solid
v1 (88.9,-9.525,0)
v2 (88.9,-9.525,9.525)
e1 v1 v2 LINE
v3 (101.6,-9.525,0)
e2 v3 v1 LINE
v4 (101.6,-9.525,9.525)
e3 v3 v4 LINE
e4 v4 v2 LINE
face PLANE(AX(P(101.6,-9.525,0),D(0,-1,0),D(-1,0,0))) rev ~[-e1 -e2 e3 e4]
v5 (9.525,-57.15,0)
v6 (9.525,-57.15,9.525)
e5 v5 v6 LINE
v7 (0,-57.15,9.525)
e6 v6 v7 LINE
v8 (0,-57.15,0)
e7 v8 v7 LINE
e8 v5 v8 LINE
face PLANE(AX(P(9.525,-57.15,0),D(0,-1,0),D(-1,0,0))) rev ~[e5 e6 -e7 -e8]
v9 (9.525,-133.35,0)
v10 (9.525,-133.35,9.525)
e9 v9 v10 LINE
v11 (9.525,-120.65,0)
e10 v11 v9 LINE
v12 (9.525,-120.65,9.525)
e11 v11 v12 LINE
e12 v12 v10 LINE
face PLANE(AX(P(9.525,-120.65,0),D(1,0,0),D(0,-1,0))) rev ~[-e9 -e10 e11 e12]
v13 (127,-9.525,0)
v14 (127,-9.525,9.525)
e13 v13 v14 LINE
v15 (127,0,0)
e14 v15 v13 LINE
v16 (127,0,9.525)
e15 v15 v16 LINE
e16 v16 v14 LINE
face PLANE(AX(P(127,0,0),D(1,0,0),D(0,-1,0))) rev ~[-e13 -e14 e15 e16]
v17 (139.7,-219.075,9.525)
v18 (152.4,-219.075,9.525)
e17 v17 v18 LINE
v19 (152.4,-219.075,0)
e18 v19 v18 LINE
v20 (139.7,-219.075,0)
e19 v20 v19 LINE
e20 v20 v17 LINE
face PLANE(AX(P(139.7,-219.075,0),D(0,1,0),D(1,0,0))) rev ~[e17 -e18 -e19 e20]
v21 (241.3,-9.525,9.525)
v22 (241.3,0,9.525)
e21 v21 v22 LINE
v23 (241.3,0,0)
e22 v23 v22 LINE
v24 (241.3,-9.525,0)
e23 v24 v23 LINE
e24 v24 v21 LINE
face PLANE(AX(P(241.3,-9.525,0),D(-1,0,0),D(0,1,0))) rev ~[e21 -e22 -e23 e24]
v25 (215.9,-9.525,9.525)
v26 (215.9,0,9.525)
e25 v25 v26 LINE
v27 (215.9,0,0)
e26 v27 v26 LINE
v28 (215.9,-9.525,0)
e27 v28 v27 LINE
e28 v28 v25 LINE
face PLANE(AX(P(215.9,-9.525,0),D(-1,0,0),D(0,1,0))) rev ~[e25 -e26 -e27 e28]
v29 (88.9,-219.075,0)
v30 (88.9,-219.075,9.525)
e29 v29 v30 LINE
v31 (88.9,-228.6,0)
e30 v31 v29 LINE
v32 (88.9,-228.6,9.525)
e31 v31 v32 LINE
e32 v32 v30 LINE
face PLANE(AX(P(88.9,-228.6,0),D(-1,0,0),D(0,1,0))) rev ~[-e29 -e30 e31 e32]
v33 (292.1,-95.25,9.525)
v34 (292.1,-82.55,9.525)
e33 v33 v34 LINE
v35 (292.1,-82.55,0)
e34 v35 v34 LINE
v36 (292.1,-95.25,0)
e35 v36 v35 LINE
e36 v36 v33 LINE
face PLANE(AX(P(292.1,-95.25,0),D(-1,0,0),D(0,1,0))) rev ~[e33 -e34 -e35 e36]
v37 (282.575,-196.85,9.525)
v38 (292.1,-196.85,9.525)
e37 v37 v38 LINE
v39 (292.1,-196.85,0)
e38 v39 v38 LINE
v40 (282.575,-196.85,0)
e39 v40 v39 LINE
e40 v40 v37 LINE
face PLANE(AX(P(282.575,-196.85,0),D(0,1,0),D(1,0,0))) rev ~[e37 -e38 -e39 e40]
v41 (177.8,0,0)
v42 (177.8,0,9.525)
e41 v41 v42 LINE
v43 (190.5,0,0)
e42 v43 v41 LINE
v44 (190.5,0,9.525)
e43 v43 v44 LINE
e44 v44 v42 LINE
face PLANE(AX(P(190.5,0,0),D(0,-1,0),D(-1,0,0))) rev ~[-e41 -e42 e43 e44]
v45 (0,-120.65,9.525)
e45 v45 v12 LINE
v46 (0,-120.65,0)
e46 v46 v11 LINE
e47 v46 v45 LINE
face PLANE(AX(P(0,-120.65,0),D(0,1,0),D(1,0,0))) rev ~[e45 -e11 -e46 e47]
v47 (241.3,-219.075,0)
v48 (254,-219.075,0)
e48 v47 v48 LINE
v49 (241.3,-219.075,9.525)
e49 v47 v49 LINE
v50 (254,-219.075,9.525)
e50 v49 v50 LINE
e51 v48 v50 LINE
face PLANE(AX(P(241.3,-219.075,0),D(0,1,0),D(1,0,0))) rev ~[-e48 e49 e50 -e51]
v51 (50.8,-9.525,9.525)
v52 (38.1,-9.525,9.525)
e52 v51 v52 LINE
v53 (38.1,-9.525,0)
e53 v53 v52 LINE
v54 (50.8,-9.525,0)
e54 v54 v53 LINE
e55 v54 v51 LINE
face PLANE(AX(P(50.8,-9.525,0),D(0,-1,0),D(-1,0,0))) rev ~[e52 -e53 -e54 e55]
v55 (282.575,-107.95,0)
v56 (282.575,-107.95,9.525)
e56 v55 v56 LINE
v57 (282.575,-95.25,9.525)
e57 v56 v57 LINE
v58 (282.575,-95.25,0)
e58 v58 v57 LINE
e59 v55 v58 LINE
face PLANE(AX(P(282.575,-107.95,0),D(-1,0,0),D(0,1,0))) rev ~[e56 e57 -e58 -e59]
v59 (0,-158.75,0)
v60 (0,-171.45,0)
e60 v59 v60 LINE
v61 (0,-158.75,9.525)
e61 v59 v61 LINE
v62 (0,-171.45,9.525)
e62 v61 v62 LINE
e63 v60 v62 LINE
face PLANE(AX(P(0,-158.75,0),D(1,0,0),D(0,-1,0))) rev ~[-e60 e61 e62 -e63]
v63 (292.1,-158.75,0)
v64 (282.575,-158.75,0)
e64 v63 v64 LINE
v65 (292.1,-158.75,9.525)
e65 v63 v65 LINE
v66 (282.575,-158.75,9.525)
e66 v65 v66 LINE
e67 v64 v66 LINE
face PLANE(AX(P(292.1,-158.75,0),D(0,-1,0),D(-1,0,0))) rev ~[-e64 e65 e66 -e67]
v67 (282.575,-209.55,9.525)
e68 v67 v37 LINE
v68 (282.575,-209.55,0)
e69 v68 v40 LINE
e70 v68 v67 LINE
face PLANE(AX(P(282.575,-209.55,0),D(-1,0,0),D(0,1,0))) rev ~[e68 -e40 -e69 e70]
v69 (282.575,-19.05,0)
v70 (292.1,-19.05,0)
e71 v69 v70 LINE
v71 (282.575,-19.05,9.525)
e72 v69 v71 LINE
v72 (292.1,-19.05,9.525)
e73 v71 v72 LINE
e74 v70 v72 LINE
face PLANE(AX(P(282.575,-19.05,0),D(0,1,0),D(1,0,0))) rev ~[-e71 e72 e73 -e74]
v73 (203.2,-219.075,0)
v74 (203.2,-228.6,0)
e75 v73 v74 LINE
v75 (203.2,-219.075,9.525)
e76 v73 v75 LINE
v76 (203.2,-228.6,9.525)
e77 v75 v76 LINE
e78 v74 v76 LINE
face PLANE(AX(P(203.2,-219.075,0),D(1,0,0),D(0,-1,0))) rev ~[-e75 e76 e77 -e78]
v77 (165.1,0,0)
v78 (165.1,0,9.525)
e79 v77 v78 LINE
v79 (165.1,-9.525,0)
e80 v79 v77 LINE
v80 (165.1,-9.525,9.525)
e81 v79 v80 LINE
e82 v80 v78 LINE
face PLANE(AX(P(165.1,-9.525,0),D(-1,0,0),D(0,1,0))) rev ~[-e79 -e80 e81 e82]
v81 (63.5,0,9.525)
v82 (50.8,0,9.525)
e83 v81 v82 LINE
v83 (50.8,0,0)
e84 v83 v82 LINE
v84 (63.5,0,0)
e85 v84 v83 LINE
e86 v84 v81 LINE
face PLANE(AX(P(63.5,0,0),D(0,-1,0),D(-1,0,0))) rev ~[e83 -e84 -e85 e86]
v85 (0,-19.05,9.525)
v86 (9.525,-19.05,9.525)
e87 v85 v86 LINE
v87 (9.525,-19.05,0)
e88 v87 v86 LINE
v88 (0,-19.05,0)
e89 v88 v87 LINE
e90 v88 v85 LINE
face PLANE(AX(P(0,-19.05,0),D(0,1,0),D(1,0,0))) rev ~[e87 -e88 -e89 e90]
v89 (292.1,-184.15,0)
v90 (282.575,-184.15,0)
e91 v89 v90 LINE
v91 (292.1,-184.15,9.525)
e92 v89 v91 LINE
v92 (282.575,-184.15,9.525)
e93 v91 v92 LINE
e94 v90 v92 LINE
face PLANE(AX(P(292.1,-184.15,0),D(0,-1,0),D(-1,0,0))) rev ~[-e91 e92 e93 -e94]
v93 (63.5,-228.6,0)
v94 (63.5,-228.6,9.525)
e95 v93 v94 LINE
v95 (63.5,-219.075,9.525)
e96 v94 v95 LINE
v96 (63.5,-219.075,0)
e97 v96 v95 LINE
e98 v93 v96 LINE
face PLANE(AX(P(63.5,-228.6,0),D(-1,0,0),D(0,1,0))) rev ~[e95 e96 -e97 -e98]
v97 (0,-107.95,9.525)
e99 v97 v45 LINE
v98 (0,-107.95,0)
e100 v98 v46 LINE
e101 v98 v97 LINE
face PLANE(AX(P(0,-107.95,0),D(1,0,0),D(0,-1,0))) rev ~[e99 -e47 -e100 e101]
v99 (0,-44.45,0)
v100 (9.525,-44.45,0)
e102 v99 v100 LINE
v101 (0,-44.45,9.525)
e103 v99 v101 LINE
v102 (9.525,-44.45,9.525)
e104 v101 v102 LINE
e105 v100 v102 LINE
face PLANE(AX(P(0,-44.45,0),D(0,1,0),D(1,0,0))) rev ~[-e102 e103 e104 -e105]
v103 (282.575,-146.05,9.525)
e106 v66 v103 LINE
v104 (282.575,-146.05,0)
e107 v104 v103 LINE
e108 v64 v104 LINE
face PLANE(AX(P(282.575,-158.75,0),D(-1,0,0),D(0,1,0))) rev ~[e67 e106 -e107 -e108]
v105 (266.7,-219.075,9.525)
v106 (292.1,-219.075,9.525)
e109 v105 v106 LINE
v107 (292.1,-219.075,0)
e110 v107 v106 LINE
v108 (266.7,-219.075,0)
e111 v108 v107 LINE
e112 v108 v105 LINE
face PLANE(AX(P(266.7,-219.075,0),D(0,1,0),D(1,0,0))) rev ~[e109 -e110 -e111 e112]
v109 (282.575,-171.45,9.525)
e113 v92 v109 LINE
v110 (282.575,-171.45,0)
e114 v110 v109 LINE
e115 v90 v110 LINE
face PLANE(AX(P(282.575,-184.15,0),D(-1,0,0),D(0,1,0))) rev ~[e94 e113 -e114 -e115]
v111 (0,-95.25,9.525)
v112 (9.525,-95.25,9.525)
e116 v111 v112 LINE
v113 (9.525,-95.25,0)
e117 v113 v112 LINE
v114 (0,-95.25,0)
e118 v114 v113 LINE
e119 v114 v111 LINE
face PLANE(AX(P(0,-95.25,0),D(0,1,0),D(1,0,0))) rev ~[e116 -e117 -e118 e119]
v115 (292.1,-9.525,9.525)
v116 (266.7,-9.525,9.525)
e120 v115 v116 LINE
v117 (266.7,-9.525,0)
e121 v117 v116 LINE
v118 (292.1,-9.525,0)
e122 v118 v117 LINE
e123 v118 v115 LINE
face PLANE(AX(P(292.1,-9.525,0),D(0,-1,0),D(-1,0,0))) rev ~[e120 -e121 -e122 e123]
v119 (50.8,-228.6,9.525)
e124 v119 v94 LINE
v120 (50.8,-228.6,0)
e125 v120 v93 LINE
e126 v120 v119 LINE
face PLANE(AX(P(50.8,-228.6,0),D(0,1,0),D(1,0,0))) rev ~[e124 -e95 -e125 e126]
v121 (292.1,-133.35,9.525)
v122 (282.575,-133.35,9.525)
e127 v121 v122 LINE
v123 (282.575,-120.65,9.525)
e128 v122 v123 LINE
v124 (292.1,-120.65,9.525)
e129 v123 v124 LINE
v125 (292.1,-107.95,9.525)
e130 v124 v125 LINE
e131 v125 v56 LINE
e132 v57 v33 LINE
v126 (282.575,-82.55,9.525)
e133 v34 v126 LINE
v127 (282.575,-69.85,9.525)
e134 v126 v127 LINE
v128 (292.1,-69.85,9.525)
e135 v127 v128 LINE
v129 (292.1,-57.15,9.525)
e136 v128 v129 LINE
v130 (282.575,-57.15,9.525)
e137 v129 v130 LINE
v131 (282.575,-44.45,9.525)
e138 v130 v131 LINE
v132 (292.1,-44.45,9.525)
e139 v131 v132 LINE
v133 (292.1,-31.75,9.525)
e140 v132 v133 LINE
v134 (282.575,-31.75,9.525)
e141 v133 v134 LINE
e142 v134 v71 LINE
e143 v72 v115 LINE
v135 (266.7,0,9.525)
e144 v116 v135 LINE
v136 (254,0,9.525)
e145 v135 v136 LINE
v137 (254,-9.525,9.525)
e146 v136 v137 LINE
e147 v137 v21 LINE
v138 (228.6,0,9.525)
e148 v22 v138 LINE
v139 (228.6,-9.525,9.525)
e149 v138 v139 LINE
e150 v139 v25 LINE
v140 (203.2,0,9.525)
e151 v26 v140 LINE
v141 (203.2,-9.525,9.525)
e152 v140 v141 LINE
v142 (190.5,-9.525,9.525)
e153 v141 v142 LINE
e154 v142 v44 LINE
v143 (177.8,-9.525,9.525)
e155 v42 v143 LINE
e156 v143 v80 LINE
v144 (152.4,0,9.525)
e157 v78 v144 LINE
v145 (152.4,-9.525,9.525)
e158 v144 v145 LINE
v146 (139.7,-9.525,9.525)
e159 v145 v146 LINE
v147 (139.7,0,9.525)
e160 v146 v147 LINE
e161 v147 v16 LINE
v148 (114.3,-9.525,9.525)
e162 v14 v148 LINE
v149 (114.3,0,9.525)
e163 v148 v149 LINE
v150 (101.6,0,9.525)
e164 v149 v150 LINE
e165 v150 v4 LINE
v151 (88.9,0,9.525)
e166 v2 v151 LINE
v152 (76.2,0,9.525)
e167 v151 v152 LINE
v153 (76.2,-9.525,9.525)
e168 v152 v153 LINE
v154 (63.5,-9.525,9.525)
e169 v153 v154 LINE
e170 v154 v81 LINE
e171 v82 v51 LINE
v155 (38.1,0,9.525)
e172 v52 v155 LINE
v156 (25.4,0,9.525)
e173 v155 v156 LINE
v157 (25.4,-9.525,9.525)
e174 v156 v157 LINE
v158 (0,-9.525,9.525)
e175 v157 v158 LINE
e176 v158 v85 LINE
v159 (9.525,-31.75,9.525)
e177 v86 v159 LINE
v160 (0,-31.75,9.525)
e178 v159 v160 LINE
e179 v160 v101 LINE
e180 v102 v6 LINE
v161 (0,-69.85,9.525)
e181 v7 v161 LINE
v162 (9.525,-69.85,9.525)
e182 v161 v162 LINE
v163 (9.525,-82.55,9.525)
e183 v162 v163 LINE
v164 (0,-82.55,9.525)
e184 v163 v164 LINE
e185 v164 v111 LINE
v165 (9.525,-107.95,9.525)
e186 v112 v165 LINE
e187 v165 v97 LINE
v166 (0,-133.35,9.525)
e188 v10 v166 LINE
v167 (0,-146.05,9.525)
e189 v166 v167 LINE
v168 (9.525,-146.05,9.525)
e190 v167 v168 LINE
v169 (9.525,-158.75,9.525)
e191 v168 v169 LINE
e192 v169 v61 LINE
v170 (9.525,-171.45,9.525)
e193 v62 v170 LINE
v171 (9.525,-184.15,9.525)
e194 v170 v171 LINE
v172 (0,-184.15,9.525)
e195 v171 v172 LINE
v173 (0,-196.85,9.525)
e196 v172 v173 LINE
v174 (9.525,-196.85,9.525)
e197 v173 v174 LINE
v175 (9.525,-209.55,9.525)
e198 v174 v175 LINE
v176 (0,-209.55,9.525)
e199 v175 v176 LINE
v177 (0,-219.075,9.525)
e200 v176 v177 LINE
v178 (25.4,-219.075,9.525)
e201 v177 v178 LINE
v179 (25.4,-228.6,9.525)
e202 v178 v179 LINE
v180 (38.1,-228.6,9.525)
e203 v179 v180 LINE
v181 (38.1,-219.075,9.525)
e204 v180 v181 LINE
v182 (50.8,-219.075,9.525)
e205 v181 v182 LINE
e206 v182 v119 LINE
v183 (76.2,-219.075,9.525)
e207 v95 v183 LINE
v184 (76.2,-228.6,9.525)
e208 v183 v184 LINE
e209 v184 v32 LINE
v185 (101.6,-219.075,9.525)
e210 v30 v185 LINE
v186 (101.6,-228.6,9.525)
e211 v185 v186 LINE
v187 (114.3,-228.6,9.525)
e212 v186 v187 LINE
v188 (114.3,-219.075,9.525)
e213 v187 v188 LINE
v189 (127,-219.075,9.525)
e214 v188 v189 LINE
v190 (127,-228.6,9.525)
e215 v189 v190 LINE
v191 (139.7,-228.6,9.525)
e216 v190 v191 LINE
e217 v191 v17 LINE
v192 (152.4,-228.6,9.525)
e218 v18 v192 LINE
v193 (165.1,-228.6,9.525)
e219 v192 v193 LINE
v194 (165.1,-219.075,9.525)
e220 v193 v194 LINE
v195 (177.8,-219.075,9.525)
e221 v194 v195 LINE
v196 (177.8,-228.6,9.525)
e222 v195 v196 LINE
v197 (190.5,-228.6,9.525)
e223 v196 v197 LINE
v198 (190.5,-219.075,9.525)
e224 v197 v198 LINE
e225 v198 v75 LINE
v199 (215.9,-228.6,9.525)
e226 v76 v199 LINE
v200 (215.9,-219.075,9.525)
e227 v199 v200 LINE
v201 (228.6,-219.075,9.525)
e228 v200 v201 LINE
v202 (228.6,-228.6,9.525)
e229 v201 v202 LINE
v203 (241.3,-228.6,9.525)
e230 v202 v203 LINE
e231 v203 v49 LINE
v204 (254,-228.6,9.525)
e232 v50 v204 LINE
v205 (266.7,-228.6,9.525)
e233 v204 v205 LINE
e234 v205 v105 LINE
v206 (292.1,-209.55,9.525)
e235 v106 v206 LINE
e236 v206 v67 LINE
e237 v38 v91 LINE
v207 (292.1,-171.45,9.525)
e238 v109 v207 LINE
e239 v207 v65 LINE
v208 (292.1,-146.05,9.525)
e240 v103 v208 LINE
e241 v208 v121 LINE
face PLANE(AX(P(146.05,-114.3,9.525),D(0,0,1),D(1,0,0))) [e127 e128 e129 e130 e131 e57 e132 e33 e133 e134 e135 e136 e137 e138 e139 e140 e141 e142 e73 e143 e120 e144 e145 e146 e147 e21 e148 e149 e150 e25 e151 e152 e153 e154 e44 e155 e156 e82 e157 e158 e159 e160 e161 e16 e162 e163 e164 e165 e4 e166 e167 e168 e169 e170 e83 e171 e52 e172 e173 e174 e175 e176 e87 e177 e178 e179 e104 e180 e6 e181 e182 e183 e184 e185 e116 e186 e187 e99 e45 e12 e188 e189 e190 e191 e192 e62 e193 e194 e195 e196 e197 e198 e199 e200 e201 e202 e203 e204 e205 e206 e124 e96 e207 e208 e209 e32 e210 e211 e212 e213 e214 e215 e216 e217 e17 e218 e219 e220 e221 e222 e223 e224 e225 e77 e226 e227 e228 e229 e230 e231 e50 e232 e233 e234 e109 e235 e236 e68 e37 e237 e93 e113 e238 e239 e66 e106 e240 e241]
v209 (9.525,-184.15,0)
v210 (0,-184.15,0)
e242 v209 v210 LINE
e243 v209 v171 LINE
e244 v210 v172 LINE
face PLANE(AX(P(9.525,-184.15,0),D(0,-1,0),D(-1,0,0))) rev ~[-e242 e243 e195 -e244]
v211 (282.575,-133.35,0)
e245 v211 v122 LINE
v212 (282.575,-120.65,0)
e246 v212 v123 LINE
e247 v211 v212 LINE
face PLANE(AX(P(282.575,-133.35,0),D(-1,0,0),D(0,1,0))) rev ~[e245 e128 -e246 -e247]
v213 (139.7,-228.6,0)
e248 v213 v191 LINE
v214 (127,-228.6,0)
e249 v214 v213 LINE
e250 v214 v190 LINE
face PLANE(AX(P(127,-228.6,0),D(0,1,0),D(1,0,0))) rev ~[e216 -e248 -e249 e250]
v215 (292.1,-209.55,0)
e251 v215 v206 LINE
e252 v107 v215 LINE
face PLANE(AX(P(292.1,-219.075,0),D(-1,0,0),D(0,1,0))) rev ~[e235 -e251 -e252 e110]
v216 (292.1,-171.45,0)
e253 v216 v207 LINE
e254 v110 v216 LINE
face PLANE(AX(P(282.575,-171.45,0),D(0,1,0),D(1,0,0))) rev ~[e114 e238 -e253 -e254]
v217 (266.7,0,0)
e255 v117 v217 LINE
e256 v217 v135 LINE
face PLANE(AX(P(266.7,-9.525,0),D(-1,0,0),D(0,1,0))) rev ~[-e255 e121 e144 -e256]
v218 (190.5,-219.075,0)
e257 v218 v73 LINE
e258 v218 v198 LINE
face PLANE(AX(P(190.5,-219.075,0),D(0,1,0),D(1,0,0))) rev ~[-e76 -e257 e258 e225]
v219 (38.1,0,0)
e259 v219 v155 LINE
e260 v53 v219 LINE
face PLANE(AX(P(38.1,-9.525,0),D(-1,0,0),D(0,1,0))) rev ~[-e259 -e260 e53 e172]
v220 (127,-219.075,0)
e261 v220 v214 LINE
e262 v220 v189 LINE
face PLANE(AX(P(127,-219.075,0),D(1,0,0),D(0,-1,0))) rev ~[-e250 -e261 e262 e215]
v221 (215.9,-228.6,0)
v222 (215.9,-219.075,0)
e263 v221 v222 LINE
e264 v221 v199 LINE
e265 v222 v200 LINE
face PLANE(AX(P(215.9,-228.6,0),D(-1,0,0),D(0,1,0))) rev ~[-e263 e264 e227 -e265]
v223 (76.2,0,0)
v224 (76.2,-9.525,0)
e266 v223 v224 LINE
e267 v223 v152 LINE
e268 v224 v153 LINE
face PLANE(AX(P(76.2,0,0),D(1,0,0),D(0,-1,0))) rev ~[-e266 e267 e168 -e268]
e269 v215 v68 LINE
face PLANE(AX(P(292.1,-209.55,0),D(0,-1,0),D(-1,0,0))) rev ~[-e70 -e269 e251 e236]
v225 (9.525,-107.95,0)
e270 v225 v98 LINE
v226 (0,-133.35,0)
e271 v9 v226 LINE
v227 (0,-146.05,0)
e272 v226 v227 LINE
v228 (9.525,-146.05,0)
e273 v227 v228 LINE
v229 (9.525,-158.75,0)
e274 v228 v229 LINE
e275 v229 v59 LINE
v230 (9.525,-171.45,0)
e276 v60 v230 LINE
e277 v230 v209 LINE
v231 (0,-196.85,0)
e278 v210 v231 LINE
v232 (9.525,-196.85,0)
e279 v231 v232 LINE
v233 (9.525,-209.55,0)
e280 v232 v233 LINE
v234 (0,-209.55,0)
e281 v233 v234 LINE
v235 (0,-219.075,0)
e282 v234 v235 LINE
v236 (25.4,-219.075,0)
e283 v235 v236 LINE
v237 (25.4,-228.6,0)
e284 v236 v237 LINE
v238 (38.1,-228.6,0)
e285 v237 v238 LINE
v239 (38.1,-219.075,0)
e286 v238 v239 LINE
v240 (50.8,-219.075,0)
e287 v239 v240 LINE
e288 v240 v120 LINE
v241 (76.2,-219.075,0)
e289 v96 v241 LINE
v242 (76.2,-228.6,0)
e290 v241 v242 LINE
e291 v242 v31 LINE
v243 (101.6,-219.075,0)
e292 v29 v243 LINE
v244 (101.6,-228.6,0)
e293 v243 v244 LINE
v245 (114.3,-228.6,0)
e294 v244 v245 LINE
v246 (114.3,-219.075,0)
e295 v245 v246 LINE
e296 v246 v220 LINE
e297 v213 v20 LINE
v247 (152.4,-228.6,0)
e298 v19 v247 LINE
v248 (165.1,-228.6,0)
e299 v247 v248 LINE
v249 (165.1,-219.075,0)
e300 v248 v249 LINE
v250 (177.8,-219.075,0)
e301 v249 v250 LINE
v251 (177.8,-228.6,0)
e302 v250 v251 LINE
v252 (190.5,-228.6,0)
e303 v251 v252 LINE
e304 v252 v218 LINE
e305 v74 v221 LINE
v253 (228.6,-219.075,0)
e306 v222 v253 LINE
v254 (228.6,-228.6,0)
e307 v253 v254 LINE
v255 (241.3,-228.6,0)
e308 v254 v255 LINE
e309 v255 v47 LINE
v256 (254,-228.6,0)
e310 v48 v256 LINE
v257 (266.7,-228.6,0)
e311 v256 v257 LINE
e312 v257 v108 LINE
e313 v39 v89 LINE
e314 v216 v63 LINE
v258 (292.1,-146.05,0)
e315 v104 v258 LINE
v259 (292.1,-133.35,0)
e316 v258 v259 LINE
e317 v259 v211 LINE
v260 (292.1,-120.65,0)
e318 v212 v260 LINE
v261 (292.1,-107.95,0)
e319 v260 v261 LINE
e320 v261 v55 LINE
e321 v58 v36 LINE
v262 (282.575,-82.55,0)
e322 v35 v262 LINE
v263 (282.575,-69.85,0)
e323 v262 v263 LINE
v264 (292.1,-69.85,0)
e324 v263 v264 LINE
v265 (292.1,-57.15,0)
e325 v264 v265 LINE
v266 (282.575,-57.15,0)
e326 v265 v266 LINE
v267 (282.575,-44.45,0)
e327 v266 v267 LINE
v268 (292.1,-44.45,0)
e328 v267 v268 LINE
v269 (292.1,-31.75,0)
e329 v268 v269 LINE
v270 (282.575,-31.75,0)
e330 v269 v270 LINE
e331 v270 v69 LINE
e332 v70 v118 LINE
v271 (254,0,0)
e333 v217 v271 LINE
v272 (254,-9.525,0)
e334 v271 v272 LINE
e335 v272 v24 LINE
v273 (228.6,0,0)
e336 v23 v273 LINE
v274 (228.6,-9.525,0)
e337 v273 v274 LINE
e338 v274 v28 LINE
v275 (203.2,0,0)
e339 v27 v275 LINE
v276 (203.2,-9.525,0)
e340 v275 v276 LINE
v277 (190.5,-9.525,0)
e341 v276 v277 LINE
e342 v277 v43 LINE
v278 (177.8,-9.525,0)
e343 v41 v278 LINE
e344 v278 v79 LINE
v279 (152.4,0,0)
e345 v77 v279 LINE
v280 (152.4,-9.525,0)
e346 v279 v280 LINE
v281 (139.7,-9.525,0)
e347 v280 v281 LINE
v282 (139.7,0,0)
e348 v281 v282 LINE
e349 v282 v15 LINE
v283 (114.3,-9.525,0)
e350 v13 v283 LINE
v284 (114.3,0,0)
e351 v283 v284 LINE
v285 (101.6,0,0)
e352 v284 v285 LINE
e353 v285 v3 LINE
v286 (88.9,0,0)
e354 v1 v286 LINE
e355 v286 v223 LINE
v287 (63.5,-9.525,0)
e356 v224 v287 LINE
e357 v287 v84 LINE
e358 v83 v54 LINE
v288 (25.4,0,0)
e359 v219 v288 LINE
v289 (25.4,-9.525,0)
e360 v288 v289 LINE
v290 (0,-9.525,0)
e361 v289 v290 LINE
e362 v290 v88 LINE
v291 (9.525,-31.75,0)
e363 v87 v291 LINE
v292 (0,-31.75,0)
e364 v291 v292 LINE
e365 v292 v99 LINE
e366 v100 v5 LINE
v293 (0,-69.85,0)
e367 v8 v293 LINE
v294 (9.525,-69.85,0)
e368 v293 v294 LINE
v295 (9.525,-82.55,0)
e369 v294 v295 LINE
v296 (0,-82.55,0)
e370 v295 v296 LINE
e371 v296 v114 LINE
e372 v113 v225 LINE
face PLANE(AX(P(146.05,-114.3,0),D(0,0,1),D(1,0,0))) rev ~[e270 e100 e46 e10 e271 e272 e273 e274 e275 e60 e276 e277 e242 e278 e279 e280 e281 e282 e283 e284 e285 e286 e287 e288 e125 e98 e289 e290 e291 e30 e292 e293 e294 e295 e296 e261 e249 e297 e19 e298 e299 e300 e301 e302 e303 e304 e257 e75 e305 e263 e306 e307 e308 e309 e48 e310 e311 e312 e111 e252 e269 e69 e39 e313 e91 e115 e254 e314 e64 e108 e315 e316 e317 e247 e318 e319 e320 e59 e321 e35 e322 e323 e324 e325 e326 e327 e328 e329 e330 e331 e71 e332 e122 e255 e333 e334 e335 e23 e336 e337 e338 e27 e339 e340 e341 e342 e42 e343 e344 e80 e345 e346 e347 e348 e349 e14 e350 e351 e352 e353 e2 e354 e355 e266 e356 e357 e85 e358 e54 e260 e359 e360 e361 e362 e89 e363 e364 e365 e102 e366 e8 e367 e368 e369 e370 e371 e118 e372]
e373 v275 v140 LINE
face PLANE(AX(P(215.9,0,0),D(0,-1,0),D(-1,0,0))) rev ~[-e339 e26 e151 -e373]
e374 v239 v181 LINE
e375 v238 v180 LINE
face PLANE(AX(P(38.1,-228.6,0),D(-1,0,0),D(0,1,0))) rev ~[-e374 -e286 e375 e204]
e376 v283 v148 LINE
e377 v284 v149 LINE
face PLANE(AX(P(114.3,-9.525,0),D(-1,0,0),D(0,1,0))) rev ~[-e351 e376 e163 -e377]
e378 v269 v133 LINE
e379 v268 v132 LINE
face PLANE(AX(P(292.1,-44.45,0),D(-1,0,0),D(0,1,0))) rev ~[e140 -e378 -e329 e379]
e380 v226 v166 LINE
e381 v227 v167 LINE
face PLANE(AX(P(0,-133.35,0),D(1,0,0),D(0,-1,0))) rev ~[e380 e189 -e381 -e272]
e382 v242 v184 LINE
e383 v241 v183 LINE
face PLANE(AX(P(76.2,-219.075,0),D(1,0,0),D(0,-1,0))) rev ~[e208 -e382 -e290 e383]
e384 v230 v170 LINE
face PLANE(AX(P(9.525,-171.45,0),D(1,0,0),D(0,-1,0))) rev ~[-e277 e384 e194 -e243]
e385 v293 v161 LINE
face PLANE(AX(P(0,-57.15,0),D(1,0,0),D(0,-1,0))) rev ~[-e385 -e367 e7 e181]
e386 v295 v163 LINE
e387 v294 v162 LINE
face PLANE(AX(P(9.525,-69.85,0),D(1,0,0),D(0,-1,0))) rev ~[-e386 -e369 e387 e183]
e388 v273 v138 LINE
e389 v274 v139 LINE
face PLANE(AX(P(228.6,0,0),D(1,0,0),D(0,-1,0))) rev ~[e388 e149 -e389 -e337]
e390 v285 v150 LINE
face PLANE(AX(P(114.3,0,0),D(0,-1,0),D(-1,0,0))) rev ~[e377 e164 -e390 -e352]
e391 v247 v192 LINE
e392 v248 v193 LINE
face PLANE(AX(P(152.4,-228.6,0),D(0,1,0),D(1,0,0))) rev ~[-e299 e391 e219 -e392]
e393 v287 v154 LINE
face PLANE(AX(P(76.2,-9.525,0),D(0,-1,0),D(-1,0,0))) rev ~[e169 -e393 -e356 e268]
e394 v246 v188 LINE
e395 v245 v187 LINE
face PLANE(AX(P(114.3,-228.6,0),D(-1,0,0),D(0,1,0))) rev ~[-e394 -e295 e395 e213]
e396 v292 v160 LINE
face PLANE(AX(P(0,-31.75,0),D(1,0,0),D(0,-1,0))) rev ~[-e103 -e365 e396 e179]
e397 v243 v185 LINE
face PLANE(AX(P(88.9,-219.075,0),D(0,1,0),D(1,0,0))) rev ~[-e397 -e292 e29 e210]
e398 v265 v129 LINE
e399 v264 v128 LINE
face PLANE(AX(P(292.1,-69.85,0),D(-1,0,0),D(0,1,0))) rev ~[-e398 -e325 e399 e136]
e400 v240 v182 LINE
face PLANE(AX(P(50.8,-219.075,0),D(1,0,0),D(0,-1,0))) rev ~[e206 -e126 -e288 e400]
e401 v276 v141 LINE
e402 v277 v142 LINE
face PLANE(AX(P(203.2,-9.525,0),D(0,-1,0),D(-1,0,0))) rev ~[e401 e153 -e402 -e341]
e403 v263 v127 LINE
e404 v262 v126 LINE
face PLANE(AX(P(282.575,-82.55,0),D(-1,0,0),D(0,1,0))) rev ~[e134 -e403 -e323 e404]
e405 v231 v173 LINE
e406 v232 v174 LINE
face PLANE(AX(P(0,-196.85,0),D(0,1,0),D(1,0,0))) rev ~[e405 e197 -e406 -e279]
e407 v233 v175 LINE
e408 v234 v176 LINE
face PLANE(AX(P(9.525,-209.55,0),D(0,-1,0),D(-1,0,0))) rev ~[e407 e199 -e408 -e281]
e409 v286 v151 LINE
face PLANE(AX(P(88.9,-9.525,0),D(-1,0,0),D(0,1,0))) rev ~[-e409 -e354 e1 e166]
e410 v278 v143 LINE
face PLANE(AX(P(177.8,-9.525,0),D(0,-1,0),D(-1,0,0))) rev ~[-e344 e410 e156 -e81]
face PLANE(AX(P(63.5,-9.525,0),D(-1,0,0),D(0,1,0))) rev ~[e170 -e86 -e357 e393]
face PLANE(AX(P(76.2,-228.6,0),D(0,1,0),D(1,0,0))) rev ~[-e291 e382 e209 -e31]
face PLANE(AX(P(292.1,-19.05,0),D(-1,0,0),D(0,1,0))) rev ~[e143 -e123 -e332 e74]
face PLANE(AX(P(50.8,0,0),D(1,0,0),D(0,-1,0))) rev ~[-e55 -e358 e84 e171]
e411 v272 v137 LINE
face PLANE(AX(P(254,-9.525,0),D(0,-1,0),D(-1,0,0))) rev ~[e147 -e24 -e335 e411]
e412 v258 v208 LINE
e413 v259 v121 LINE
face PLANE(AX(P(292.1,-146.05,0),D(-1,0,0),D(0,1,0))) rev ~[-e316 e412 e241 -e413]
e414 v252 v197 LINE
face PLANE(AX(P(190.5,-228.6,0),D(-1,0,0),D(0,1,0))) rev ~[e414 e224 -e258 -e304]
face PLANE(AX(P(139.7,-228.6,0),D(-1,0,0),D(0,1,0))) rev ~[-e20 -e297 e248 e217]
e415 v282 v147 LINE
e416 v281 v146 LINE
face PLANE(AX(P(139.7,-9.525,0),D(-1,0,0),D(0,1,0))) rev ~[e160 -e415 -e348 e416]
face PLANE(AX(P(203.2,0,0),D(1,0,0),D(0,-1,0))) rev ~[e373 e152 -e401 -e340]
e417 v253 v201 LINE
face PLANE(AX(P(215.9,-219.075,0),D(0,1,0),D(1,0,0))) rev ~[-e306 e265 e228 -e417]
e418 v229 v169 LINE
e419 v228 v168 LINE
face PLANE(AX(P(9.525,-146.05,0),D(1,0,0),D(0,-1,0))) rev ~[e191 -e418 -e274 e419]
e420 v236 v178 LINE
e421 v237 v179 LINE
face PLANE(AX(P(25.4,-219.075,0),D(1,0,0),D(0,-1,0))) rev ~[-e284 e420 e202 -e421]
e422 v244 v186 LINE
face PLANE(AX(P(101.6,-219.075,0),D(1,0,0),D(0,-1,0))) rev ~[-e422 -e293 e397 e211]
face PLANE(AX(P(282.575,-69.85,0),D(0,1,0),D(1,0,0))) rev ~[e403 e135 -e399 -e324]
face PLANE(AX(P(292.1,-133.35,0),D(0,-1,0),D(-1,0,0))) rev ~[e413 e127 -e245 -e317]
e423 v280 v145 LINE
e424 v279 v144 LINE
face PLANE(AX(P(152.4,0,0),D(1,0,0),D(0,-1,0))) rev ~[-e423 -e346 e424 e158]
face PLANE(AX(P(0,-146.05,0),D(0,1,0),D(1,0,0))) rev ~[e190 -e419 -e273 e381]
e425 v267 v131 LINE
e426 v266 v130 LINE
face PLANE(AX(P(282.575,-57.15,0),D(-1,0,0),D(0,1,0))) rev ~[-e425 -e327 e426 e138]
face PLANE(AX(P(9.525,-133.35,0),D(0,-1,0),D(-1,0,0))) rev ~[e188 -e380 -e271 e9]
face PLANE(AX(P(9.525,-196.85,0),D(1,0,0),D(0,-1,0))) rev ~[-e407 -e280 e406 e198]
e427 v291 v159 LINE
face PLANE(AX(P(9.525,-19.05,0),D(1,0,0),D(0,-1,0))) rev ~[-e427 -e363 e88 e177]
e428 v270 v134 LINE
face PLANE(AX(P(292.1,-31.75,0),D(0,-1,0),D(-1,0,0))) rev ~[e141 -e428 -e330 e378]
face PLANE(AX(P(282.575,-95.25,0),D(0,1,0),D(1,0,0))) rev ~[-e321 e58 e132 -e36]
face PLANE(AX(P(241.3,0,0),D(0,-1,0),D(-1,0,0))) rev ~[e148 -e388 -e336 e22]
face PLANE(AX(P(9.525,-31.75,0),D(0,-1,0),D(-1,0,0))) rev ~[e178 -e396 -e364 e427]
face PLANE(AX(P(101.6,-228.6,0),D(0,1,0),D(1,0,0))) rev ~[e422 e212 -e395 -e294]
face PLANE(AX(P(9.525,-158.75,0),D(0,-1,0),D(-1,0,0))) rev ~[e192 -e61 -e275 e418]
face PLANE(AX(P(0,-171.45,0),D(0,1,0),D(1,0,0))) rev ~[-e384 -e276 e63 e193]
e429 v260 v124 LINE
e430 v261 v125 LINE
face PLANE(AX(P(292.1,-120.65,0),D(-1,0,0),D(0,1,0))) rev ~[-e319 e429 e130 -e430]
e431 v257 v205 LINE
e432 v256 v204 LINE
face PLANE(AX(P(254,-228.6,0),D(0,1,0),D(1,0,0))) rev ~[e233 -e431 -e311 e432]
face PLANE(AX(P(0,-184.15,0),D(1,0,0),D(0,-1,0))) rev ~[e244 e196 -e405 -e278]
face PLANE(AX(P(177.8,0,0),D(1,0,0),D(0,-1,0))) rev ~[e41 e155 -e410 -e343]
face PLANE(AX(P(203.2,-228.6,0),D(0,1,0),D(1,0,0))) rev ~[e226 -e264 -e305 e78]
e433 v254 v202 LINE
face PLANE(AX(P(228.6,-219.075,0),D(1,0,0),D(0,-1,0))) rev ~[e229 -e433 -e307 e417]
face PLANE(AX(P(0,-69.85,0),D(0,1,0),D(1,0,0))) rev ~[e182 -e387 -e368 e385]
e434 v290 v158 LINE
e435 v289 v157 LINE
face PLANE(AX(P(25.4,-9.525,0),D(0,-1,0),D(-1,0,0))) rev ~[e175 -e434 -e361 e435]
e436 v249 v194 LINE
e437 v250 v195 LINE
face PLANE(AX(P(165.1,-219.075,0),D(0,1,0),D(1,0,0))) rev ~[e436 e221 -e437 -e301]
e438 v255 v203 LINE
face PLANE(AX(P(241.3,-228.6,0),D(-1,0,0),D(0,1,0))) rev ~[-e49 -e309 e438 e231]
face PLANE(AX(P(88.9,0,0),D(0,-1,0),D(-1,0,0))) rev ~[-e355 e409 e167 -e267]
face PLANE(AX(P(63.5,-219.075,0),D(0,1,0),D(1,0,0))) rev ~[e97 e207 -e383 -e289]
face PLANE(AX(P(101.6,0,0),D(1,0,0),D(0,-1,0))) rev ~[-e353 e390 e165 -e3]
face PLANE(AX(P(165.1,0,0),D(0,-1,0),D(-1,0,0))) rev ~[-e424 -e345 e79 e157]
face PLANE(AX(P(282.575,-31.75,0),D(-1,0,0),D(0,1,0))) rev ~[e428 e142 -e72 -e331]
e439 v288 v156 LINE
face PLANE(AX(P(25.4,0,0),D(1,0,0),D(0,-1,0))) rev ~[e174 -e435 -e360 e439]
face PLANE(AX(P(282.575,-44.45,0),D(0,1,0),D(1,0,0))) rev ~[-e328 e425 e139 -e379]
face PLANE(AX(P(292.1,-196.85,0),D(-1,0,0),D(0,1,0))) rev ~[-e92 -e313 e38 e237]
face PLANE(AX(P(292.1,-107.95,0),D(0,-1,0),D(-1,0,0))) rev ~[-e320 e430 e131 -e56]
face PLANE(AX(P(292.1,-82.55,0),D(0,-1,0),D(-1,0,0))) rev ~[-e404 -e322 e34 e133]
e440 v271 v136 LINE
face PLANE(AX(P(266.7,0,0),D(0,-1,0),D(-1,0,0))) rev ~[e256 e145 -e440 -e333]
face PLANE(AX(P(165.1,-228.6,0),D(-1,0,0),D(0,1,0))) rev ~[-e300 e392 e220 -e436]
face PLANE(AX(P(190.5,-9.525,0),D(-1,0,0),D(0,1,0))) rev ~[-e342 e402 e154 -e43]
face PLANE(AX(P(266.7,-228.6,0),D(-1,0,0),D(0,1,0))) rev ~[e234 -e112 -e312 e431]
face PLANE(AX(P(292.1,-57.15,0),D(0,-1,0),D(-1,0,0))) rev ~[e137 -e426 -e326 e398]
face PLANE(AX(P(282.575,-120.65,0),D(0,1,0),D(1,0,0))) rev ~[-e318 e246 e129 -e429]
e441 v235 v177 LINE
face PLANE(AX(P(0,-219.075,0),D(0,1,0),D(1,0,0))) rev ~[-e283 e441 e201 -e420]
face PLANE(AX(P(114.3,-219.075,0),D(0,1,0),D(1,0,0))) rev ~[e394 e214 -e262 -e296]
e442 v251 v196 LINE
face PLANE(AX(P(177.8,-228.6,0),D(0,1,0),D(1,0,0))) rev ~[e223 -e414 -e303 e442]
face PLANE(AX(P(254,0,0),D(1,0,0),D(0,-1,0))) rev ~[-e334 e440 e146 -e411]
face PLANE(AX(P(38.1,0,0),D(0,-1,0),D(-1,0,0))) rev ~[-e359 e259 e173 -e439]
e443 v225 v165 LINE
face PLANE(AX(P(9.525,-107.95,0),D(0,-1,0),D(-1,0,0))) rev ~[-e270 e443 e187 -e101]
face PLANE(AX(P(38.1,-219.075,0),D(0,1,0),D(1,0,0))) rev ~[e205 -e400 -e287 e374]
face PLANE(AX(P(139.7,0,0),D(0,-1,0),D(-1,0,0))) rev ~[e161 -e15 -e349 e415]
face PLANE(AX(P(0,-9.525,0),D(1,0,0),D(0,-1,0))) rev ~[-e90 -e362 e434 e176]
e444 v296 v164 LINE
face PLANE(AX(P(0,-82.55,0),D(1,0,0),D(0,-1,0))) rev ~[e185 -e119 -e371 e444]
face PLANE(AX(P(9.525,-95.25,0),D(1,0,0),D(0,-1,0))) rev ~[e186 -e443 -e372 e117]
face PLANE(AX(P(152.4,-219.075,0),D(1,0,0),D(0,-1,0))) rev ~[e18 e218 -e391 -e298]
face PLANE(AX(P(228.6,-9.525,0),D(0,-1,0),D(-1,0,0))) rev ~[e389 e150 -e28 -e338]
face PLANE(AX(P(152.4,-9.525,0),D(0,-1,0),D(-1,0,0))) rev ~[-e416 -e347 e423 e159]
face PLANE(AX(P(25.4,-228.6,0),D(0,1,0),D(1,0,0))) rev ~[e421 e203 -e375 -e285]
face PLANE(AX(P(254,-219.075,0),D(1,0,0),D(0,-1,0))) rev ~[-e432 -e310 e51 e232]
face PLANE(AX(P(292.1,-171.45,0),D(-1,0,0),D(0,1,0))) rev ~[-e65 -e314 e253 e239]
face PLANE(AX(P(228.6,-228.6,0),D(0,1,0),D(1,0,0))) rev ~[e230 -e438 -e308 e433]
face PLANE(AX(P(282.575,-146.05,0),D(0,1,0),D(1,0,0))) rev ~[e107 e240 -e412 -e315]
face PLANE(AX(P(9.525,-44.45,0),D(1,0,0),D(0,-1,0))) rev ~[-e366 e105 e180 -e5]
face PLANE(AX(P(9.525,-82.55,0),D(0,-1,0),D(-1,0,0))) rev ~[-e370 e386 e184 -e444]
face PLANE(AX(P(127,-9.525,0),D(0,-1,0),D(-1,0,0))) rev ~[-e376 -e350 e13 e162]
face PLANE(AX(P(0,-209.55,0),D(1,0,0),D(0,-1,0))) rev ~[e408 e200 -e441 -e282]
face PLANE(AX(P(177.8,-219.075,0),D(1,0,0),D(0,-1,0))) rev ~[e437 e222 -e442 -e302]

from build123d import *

# Parameters (mm, degrees)
F1_DEPTH = 9.525


with BuildPart() as f1:
    # F0 (on Top) → F1 (new body)
    with BuildSketch(Plane.XY):
        Polygon((63.5, 0), (50.8, 0), (50.8, -9.525), (38.1, -9.525), (38.1, 0), (25.4, 0), (25.4, -9.525), (0, -9.525), (0, -19.05), (9.525, -19.05), (9.525, -31.75), (0, -31.75), (0, -44.45), (9.525, -44.45), (9.525, -57.15), (0, -57.15), (0, -69.85), (9.525, -69.85), (9.525, -82.55), (0, -82.55), (0, -95.25), (9.525, -95.25), (9.525, -107.95), (0, -107.95), (0, -120.65), (9.525, -120.65), (9.525, -133.35), (0, -133.35), (0, -146.05), (9.525, -146.05), (9.525, -158.75), (0, -158.75), (0, -171.45), (9.525, -171.45), (9.525, -184.15), (0, -184.15), (0, -196.85), (9.525, -196.85), (9.525, -209.55), (0, -209.55), (0, -219.075), (25.4, -219.075), (25.4, -228.6), (38.1, -228.6), (38.1, -219.075), (50.8, -219.075), (50.8, -228.6), (63.5, -228.6), (63.5, -219.075), (76.2, -219.075), (76.2, -228.6), (88.9, -228.6), (88.9, -219.075), (101.6, -219.075), (101.6, -228.6), (114.3, -228.6), (114.3, -219.075), (127, -219.075), (127, -228.6), (139.7, -228.6), (139.7, -219.075), (152.4, -219.075), (152.4, -228.6), (165.1, -228.6), (165.1, -219.075), (177.8, -219.075), (177.8, -228.6), (190.5, -228.6), (190.5, -219.075), (203.2, -219.075), (203.2, -228.6), (215.9, -228.6), (215.9, -219.075), (228.6, -219.075), (228.6, -228.6), (241.3, -228.6), (241.3, -219.075), (254, -219.075), (254, -228.6), (266.7, -228.6), (266.7, -219.075), (292.1, -219.075), (292.1, -209.55), (282.575, -209.55), (282.575, -196.85), (292.1, -196.85), (292.1, -184.15), (282.575, -184.15), (282.575, -171.45), (292.1, -171.45), (292.1, -158.75), (282.575, -158.75), (282.575, -146.05), (292.1, -146.05), (292.1, -133.35), (282.575, -133.35), (282.575, -120.65), (292.1, -120.65), (292.1, -107.95), (282.575, -107.95), (282.575, -95.25), (292.1, -95.25), (292.1, -82.55), (282.575, -82.55), (282.575, -69.85), (292.1, -69.85), (292.1, -57.15), (282.575, -57.15), (282.575, -44.45), (292.1, -44.45), (292.1, -31.75), (282.575, -31.75), (282.575, -19.05), (292.1, -19.05), (292.1, -9.525), (266.7, -9.525), (266.7, 0), (254, 0), (254, -9.525), (241.3, -9.525), (241.3, 0), (228.6, 0), (228.6, -9.525), (215.9, -9.525), (215.9, 0), (203.2, 0), (203.2, -9.525), (190.5, -9.525), (190.5, 0), (177.8, 0), (177.8, -9.525), (165.1, -9.525), (165.1, 0), (152.4, 0), (152.4, -9.525), (139.7, -9.525), (139.7, 0), (127, 0), (127, -9.525), (114.3, -9.525), (114.3, 0), (101.6, 0), (101.6, -9.525), (88.9, -9.525), (88.9, 0), (76.2, 0), (76.2, -9.525), (63.5, -9.525), align=None)
    extrude(amount=F1_DEPTH)


solid = f1.part
